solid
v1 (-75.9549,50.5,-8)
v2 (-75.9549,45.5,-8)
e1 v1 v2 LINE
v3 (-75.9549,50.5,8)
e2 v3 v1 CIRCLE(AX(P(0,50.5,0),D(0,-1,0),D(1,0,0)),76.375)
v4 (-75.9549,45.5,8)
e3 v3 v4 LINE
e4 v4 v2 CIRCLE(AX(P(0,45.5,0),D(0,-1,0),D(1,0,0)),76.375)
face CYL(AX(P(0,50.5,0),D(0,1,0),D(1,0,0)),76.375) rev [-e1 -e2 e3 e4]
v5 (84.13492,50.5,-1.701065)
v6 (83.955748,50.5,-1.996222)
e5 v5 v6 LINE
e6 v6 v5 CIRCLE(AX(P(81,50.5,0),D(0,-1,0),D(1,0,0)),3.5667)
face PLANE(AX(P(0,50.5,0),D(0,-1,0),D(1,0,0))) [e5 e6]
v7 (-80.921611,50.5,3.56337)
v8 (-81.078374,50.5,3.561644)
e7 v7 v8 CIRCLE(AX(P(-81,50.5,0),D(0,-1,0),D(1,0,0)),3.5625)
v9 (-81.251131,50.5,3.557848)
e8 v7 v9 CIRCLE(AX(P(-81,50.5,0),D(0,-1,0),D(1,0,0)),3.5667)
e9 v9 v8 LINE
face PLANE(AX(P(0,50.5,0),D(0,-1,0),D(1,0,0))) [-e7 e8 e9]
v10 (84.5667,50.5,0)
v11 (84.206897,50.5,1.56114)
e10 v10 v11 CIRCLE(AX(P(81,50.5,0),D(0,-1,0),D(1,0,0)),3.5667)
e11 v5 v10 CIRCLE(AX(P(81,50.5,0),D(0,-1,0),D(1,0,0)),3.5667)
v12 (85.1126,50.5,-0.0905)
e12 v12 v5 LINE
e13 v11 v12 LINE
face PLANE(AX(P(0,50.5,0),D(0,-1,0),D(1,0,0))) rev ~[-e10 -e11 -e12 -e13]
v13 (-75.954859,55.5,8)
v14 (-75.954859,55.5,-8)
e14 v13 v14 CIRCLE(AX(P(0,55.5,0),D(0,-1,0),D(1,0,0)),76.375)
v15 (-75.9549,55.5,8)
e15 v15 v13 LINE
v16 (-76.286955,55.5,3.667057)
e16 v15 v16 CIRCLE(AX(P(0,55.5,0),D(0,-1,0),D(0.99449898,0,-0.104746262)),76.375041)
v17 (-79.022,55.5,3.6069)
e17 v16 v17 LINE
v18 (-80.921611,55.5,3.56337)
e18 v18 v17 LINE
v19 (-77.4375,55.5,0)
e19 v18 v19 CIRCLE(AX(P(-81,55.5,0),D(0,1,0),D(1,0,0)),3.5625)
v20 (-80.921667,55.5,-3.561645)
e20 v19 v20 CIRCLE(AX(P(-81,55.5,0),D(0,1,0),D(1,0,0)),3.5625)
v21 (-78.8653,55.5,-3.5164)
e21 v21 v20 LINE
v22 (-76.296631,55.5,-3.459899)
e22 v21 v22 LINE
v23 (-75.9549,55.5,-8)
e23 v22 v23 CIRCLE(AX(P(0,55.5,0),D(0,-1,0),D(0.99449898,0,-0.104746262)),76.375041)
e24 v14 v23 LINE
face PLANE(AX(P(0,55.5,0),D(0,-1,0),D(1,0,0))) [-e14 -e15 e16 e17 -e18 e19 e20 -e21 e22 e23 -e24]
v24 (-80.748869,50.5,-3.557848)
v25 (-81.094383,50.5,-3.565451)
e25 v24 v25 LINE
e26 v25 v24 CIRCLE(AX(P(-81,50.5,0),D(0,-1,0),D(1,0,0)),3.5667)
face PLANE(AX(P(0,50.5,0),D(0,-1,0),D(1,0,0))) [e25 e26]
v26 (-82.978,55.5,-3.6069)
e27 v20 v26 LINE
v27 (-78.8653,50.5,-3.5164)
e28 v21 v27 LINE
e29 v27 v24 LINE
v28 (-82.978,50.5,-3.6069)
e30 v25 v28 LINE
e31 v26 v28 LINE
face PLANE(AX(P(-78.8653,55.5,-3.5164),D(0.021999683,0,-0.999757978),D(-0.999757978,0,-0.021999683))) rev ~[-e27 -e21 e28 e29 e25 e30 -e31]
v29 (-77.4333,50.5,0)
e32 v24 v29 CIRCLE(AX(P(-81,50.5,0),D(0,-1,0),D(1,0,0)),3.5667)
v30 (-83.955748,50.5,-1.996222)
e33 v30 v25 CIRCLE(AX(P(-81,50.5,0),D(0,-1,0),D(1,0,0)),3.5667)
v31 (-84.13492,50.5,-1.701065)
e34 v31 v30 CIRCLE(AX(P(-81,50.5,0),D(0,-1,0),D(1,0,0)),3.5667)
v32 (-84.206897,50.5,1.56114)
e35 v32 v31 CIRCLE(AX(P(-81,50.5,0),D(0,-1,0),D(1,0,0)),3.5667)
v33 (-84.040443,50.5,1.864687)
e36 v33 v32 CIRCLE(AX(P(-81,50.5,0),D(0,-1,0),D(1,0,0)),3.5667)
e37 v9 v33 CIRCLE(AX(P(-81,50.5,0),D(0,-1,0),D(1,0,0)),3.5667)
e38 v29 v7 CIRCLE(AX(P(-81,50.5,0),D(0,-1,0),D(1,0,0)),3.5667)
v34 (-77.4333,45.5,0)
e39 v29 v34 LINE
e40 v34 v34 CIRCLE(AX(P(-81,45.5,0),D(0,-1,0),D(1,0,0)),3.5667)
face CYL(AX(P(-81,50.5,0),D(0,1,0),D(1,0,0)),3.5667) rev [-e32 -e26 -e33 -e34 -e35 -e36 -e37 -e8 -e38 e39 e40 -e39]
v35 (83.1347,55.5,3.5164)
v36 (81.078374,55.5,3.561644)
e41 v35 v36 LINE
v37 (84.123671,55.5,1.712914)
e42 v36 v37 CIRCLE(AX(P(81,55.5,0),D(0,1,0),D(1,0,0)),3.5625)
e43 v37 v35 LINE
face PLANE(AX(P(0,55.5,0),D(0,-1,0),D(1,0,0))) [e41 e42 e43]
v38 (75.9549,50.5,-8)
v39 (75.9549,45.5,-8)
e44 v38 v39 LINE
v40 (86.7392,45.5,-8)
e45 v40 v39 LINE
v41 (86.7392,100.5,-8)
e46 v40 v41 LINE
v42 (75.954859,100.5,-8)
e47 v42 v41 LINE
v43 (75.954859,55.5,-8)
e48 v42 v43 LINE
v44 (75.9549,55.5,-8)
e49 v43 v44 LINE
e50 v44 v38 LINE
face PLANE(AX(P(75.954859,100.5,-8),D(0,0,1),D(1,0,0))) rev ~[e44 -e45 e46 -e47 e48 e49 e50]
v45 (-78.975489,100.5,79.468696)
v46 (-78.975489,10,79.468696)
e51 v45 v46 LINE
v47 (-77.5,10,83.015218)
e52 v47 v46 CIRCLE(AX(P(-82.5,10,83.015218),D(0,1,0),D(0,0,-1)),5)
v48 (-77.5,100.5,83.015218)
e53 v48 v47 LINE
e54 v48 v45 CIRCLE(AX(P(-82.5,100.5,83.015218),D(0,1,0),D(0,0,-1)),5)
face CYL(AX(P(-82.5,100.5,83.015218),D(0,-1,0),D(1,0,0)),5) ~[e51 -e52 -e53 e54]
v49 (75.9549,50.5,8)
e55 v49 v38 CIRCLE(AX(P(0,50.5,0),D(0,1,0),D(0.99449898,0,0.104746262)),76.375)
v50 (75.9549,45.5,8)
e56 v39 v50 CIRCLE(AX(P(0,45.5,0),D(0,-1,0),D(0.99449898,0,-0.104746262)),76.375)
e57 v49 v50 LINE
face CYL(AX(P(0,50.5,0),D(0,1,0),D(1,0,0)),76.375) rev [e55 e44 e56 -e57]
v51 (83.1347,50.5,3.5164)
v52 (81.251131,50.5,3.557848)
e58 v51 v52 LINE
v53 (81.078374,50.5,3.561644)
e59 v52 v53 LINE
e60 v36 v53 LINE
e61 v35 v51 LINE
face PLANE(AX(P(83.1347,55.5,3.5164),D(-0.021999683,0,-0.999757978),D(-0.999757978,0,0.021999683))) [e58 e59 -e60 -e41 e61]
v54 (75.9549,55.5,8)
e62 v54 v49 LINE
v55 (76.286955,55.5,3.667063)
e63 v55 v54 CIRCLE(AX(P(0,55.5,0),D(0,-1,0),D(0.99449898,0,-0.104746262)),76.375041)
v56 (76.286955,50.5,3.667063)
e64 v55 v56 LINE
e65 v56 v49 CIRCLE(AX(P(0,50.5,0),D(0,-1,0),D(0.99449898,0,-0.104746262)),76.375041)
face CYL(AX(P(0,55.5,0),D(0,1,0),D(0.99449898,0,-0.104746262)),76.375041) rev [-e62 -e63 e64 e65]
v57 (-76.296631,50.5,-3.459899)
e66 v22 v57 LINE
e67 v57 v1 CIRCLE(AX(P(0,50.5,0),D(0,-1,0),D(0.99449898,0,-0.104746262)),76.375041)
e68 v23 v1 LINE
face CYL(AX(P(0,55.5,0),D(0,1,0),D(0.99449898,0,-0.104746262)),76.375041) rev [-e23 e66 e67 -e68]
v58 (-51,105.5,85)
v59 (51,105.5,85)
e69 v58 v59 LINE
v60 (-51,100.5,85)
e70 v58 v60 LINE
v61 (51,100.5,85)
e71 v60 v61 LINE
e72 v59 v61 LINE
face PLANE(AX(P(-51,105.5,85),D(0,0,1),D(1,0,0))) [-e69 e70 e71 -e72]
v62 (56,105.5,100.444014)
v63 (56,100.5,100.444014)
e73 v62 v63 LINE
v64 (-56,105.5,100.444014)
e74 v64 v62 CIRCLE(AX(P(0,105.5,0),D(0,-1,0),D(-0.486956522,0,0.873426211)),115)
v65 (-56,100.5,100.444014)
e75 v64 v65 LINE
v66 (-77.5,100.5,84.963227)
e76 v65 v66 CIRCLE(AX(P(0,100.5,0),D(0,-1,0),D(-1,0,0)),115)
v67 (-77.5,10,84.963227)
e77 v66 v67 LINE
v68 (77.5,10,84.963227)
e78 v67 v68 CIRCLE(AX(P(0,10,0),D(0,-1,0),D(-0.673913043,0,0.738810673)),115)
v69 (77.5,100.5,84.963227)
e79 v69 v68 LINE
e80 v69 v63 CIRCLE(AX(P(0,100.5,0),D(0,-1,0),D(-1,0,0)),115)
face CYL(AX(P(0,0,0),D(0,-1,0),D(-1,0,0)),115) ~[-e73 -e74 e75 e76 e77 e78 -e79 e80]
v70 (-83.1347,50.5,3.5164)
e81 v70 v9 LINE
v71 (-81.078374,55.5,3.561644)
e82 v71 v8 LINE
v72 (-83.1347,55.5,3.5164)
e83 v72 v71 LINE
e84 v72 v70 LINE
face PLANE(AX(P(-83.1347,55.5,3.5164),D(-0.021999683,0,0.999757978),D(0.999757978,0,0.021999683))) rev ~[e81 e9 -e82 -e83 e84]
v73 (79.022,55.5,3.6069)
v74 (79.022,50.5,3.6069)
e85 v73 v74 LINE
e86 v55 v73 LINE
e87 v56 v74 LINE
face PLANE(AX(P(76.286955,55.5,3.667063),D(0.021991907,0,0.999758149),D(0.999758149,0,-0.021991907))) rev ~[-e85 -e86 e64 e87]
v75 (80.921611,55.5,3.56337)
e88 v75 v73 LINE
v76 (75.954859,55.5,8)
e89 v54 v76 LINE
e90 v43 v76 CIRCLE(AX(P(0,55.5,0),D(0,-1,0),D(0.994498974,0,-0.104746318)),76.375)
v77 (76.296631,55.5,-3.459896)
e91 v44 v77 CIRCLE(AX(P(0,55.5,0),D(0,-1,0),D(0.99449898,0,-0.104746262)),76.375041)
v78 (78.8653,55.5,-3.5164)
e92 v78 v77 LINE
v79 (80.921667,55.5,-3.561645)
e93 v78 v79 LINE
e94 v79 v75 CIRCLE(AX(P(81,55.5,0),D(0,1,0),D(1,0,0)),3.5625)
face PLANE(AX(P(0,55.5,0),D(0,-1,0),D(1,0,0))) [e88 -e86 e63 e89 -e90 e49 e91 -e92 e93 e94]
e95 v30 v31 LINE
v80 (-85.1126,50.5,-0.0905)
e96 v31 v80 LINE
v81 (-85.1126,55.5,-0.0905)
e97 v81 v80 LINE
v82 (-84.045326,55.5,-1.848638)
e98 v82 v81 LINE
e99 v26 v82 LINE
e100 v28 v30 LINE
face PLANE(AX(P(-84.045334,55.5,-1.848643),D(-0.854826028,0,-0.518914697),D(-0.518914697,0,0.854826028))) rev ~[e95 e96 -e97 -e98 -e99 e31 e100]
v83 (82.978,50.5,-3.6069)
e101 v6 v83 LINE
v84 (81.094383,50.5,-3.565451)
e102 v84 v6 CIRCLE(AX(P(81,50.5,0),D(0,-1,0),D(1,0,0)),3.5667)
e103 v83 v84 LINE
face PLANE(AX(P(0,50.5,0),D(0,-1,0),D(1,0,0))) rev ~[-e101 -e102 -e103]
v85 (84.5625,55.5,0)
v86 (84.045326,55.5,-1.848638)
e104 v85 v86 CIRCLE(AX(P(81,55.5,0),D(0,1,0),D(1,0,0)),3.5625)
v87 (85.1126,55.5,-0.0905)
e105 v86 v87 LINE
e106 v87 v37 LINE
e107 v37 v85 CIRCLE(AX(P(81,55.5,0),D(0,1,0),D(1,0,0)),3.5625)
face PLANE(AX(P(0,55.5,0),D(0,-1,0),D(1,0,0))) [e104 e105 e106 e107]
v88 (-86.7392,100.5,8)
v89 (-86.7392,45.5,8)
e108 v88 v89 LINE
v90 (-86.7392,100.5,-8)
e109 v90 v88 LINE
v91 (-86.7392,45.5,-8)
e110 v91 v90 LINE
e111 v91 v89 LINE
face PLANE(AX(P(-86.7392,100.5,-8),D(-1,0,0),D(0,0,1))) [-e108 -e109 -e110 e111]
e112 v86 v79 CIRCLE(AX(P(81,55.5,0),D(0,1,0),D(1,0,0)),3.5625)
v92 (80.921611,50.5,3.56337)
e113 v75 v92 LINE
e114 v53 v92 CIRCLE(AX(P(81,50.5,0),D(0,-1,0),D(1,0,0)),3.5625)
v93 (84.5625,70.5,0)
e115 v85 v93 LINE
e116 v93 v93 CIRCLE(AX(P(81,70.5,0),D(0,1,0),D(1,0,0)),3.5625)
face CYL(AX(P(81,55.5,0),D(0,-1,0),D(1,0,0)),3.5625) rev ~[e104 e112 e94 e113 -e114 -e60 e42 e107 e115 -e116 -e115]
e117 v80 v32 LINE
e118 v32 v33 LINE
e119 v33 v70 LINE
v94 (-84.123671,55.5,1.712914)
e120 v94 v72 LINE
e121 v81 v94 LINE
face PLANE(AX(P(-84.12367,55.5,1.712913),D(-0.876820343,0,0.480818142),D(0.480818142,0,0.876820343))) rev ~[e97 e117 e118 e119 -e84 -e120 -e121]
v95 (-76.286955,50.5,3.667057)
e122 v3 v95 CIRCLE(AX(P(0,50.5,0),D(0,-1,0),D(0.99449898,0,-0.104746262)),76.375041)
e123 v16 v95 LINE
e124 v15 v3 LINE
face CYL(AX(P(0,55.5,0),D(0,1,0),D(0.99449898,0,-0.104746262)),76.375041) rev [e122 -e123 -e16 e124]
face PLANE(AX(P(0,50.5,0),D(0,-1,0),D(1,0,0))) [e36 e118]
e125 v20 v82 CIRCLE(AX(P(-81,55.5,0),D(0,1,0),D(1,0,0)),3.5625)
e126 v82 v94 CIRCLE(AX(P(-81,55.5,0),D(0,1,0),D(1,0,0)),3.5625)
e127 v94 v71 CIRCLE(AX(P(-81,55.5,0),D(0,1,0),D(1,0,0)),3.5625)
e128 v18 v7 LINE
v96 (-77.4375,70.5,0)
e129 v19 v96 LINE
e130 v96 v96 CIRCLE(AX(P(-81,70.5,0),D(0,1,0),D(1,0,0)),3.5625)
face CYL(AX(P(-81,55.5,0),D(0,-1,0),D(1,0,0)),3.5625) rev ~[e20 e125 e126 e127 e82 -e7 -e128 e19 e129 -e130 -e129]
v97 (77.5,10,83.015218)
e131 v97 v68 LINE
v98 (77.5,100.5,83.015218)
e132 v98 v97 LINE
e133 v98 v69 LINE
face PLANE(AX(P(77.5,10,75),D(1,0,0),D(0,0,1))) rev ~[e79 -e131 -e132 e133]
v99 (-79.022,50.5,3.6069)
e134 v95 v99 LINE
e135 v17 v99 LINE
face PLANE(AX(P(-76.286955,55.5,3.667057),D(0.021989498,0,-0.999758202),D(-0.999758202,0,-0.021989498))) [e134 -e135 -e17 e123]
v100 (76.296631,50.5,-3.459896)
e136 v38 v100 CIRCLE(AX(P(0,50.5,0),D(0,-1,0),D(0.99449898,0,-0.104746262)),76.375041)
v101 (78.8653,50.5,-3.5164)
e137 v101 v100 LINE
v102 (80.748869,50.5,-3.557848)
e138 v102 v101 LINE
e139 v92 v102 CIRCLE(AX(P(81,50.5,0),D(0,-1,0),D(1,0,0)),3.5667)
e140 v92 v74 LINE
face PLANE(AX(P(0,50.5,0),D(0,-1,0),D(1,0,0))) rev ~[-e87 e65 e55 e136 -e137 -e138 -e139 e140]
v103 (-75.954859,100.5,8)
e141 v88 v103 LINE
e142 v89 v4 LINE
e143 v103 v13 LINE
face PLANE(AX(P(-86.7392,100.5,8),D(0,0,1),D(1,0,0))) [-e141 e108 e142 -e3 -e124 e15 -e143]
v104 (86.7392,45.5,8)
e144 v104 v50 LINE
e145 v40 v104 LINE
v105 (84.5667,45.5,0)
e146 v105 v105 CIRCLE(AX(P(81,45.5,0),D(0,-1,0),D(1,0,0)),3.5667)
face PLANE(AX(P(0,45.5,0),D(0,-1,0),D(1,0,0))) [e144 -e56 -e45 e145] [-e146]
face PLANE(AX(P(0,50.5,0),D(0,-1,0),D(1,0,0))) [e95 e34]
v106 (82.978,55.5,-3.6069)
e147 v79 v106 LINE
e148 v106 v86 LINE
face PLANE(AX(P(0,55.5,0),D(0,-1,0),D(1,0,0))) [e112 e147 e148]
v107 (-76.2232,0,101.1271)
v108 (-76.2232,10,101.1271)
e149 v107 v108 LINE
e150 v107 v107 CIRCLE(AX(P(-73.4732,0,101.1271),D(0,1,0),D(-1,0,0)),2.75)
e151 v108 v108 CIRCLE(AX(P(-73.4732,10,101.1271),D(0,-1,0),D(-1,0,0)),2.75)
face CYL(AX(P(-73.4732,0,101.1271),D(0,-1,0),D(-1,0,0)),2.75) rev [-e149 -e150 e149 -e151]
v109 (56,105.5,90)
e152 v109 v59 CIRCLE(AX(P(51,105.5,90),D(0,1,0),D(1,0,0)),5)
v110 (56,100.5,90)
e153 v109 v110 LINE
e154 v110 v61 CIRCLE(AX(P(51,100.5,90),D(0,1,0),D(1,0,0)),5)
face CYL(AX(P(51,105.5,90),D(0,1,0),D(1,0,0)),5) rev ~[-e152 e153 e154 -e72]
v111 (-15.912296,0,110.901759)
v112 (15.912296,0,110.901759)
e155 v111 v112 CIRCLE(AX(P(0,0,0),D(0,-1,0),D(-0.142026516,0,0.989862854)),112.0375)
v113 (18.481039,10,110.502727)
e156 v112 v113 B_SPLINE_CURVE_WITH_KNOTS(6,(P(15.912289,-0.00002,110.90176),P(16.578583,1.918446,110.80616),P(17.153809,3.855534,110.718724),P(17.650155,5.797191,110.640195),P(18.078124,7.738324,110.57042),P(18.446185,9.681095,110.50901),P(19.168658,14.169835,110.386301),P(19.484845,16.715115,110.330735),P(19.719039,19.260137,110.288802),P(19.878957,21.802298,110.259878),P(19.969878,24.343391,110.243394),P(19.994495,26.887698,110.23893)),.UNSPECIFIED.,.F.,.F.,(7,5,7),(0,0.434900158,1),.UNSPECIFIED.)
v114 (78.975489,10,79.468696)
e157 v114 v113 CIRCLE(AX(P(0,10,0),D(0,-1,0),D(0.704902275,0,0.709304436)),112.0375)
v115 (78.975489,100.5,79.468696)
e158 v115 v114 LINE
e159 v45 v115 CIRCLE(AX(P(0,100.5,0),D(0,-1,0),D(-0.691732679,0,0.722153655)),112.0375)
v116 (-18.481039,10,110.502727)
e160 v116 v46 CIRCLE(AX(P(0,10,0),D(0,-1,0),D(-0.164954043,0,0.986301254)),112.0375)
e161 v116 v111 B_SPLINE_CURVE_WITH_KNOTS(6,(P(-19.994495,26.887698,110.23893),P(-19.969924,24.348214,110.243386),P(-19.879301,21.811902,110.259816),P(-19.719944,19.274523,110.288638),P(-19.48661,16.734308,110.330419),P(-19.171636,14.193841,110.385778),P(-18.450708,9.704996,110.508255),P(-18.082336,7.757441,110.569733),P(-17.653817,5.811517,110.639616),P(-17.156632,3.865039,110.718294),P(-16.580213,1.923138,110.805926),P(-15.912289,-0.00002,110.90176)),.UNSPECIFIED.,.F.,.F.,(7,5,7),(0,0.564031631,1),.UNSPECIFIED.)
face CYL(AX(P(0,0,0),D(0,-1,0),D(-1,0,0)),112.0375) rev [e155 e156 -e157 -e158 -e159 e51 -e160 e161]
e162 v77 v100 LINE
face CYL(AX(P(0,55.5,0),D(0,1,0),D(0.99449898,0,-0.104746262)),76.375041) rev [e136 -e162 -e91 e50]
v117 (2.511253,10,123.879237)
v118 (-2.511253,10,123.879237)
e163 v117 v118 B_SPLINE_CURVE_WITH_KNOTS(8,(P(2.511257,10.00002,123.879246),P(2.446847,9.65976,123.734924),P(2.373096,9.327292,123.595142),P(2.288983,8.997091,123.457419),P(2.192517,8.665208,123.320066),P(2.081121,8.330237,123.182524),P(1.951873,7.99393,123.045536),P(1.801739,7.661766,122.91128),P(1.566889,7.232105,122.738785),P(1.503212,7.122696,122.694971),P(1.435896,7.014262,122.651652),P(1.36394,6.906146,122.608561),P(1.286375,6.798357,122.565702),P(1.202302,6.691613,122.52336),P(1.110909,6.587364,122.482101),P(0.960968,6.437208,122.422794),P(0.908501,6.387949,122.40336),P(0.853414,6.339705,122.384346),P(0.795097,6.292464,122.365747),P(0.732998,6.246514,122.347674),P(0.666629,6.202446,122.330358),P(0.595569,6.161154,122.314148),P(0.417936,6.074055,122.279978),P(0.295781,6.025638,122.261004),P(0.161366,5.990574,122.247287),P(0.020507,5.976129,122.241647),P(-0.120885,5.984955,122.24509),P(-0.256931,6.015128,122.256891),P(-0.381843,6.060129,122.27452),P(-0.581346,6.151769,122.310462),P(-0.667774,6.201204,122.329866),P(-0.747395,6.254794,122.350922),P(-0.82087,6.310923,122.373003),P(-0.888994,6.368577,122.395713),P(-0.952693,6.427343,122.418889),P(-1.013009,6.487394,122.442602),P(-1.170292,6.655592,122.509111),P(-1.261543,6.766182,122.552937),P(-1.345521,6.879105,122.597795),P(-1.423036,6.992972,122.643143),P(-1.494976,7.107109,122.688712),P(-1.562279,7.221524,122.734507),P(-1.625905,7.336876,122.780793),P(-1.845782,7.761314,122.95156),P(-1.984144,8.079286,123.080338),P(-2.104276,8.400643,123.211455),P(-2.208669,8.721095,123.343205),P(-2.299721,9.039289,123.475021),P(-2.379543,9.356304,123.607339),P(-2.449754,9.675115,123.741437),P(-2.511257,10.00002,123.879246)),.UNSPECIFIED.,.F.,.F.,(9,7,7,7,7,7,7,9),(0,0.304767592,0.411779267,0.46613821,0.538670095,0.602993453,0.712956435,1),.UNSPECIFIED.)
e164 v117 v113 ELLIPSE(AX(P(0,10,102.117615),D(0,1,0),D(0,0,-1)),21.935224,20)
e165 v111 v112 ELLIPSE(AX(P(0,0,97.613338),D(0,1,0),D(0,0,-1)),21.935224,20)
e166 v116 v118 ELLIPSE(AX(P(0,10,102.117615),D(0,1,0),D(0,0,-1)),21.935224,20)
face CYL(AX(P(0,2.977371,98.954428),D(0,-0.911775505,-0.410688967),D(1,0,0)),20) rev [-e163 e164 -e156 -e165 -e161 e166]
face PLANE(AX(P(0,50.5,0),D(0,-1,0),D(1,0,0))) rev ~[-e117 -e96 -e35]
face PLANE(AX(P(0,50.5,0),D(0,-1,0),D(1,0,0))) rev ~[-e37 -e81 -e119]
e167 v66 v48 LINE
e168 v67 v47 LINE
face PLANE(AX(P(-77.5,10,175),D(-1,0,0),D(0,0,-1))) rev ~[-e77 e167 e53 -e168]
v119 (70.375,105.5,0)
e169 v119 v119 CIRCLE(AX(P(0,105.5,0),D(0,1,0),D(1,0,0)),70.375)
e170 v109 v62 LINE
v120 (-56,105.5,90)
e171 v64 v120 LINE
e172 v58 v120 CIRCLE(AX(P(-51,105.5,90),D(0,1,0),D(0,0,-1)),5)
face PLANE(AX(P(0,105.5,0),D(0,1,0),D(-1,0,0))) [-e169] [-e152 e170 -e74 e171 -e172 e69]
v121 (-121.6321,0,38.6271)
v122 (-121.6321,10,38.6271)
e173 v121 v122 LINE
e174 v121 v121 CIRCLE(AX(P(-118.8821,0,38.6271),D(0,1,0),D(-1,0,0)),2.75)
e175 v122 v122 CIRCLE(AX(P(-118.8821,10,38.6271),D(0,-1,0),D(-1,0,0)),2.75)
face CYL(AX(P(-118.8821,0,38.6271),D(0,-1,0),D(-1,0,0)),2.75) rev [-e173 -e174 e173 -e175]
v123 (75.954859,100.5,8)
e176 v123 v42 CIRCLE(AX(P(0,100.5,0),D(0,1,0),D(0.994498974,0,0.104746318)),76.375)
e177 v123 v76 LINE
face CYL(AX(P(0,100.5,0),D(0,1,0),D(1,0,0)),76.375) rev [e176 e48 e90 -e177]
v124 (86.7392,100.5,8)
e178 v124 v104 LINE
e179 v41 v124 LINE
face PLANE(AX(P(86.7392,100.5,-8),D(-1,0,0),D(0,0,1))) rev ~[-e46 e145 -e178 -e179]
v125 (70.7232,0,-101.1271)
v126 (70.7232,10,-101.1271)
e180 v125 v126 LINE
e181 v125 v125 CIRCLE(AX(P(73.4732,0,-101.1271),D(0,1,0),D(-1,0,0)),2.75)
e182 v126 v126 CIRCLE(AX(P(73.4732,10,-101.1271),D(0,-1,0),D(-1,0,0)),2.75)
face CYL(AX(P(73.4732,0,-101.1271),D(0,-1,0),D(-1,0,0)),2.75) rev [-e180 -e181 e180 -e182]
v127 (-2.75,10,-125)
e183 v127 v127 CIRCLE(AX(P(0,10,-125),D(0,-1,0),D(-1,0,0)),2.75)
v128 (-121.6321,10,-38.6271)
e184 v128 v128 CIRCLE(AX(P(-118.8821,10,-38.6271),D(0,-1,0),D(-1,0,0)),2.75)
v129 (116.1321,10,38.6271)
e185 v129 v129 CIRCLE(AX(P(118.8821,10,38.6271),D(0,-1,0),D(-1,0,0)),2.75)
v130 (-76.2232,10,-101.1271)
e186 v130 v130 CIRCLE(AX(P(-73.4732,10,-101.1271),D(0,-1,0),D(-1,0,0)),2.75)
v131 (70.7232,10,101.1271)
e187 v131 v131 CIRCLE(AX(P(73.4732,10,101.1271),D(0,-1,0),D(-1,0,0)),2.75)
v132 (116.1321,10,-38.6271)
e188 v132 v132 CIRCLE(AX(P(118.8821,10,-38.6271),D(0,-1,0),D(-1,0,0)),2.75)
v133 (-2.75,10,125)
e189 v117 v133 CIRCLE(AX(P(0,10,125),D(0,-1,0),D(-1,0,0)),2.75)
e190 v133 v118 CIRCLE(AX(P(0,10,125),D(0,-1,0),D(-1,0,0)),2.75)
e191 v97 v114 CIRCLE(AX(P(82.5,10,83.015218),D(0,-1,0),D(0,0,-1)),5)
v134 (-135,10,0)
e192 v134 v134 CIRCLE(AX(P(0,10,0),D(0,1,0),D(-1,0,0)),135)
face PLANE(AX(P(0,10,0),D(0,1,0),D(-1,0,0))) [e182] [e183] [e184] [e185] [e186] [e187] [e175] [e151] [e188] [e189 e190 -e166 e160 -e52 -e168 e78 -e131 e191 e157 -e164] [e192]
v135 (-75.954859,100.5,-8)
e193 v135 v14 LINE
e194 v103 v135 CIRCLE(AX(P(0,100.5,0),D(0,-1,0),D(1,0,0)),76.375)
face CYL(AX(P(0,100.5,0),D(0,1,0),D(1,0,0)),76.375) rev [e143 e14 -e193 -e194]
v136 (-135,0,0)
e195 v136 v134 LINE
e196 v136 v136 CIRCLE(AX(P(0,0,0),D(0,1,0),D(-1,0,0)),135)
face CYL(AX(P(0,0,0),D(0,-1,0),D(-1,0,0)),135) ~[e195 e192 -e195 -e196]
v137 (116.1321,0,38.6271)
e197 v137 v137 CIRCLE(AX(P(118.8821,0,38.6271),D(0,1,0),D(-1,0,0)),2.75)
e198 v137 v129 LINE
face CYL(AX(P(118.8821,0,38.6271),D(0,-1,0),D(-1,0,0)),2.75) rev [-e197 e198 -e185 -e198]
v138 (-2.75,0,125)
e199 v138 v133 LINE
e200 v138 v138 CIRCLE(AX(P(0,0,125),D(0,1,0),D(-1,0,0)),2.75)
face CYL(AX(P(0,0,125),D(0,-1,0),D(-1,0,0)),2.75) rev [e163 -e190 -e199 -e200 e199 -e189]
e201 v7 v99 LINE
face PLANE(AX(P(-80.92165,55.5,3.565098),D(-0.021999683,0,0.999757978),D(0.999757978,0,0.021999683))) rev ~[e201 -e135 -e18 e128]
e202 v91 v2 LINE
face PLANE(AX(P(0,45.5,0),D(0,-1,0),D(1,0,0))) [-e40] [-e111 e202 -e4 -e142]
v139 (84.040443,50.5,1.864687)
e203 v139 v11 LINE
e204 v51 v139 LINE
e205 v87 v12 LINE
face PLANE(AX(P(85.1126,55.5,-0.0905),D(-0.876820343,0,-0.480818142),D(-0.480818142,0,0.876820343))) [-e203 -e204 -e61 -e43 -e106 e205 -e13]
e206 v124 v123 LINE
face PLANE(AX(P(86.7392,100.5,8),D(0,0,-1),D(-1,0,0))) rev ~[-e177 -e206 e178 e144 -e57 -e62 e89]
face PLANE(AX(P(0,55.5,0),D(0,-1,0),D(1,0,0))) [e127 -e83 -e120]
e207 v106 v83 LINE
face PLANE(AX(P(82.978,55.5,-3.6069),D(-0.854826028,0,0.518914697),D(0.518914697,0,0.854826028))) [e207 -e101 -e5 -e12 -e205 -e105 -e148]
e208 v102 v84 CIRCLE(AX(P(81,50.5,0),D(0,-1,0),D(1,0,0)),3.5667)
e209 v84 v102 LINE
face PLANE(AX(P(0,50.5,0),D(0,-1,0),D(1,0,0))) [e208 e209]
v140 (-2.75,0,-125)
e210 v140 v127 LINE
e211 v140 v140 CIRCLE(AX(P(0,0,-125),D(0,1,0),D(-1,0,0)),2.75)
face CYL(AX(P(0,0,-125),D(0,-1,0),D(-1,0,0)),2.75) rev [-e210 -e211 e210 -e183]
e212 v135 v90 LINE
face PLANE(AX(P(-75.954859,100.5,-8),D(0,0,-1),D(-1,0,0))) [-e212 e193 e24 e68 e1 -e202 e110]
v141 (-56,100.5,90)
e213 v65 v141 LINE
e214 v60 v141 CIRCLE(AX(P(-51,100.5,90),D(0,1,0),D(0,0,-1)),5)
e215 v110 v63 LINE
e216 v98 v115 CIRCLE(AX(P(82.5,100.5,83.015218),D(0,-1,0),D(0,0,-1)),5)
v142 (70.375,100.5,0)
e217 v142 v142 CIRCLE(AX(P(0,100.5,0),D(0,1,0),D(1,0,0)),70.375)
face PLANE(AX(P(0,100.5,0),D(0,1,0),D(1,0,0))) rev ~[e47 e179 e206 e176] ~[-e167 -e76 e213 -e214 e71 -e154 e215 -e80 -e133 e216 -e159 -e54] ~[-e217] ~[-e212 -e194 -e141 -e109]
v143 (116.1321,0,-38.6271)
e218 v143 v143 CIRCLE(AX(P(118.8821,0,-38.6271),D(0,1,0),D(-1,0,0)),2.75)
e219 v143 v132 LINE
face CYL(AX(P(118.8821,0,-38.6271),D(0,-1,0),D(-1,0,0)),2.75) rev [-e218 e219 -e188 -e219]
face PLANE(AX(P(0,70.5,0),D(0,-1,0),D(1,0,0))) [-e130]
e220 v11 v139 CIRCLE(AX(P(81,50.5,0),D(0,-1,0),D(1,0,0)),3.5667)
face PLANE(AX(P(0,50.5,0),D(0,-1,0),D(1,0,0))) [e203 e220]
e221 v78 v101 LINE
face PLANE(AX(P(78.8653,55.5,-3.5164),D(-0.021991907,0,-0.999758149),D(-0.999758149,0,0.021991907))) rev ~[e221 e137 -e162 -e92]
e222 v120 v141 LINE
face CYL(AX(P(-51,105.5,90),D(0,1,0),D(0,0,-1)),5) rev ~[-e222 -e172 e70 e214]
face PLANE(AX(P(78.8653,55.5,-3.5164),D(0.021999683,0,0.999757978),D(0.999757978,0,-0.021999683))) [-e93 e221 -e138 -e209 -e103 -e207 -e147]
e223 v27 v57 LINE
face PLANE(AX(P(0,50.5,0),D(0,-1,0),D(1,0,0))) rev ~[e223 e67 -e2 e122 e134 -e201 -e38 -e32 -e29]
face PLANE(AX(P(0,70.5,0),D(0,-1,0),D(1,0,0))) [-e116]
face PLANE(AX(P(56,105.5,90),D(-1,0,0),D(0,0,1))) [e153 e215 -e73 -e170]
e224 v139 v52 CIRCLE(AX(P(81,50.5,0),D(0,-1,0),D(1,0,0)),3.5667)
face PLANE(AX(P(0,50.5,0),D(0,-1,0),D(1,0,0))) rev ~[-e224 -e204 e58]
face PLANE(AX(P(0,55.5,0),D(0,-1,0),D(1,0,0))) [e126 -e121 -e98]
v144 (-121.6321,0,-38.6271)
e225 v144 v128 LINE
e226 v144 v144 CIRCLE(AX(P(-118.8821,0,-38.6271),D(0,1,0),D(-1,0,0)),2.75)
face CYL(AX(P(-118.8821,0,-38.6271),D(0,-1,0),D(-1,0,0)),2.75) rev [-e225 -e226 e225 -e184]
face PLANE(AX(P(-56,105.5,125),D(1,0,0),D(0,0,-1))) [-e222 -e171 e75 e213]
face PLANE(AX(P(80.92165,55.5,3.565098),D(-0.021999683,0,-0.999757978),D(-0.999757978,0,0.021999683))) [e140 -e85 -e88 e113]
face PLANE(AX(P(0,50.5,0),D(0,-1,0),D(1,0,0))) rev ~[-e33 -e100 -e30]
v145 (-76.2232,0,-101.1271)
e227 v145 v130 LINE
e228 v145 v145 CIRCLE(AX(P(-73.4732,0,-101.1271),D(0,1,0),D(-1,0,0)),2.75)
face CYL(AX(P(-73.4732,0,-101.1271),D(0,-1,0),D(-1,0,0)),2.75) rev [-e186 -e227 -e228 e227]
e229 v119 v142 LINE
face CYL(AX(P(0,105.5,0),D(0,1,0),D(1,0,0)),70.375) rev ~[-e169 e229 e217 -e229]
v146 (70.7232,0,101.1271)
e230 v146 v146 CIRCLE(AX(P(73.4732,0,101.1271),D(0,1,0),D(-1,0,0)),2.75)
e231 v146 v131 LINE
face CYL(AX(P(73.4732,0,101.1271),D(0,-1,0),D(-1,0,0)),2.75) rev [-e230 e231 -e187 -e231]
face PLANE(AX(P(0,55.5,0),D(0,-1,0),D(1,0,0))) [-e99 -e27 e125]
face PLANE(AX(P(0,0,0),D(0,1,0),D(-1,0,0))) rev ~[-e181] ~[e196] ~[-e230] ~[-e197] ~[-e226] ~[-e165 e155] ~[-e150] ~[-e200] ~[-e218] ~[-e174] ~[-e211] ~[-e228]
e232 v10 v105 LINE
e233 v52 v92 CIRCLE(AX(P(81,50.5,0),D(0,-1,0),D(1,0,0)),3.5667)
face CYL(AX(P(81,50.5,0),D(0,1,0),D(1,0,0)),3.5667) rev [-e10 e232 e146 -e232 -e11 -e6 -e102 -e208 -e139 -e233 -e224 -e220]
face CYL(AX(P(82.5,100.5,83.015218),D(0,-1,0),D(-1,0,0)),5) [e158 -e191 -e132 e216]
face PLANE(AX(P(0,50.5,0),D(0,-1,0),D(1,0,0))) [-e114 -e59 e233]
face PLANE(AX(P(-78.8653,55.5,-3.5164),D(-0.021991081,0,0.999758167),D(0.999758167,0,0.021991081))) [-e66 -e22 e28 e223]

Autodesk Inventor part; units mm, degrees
sketch "Sketch1" plane through (0, 0, 0) normal (0, 1, 0) x (-1, 0, 0)
  circle A0 centre (0, 0) radius 135
  circle A1 centre (0, 0) radius 115
  circle A2 centre (0, 0) radius 112.0375
  circle A3 centre (0, 0) radius 9.5
  circle A4 centre (0, 0) radius 125
  circle A5 centre (0, -125) radius 2.75
  circle A6 centre (73.4732, -101.1271) radius 2.75
  circle A7 centre (118.8821, -38.6271) radius 2.75
  circle A8 centre (118.8821, 38.6271) radius 2.75
  circle A9 centre (73.4732, 101.1271) radius 2.75
  circle A10 centre (0, 125) radius 2.75
  circle A11 centre (-73.4732, 101.1271) radius 2.75
  circle A12 centre (-118.8821, 38.6271) radius 2.75
  circle A13 centre (-118.8821, -38.6271) radius 2.75
  circle A14 centre (-73.4732, -101.1271) radius 2.75
  dimension "d264" = 250
  dimension "Absolute_Diameter" = 270
  dimension "Diameter_No_Outer_Lip" = 230
  dimension "Inner_Cylinder_Diameter" = 224.075
  dimension "Lip_Diameter" = 19
  dimension "d265" = 5.5
  dimension "d268" = 360
extrude "Extrusion1" add sketch "Sketch1" along normal blind 10 contours A0 | A4 A7 A6 A5 A14 A13 A12 A11 A10 A9 A8
extrude "Extrusion2" add sketch "Sketch1" along normal blind 105.5 contours A1
sketch "Sketch2" plane through (0, 105.5, 0) normal (0, 1, 0) x (1, 0, 0)
  circle A0 centre (0, 0) radius 115
  circle A1 centre (0, 0) radius 70.375
  dimension "Lip_Diameter_Out" = 230
  dimension "Inner_Lip_Diameter" = 140.75
extrude "Extrusion7" add sketch "Sketch2" against normal blind 5
sketch "Sketch28" plane through (0, 10, 0) normal (0, 1, 0) x (1, 0, 0)
  line L0 (-77.5, -75) -> (77.5, -75)
  line L1 (77.5, -75) -> (77.5, -175)
  line L2 (77.5, -175) -> (-77.5, -175)
  line L3 (-77.5, -175) -> (-77.5, -75)
  circle A0 centre (0, -125) radius 2.75 projected
  line L4 (-77.5, -75) -> (77.5, -175) construction
  line L5 (77.5, -75) -> (-77.5, -175) construction
  point P0 (0, 0)
  dimension "d271" = 155
  dimension "d272" = 100
extrude "Extrusion34" cut sketch "Sketch28" along normal up to surface (90.5 mm away)
sketch "Sketch30" plane through (0, 10, 0) normal (0, 1, 0) x (1, 0, 0)
  point P0 (0, 0)
ref_plane "Work Plane19" through (16.25, 10, -160.125) normal (0, 0.3947, -0.9188) x (1, 0, 0)
ref_plane "Work Plane21" through (16.25, 10, -160.125) normal (0, 0.9118, 0.4107) x (1, 0, 0)
ref_plane "Work Plane22" through (16.25, 101.1762, -119.0531) normal (0, 0.9118, 0.4107) x (1, 0, 0)
sketch "Sketch31" plane through (16.25, 101.1762, -119.0531) normal (0, 0.9118, 0.4107) x (1, 0, 0)
  circle A0 centre (-16.25, -239.1031) radius 20
  point P0 (-16.25, -150.1031)
  dimension "d286" = 40
  dimension "d289" = 89
extrude "Extrusion36" cut sketch "Sketch31" along normal mid plane 52.8625
fillet "Fillet19" radius 5 2 edges at (-77.5, 55.25, 80.9083) (77.5, 55.25, 80.9083)
sketch "Sketch32" plane through (0, 105.5, 0) normal (0, 1, 0) x (1, 0, 0)
  line L0 (-51, -85) -> (51, -85)
  line L1 (56, -90) -> (56, -125)
  line L2 (56, -125) -> (-56, -125)
  line L3 (-56, -125) -> (-56, -90)
  line L4 (-56, -85) -> (56, -125) construction
  line L5 (56, -85) -> (-56, -125) construction
  arc A0 (-51, -85) -> (-56, -90) centre (-51, -90) ccw
  arc A1 (56, -90) -> (51, -85) centre (51, -90) ccw
  point P0 (0, 0)
  point P1 (0, -105)
  point P2 (0, -85)
  dimension "d291" = 112
  dimension "d292" = 40
  dimension "d293" = 5
  dimension "d294" = 5
  dimension "d295" = 85
extrude "Extrusion37" cut sketch "Sketch32" against normal blind 10
sketch "Sketch33" plane through (0, 100.5, 0) normal (0, -1, 0) x (1, 0, 0)
  circle A0 centre (0, 0) radius 70.375
  line L0 (-86.7392, 8) -> (-75, 8)
  line L1 (-75, 8) -> (-75, -8)
  line L2 (-75, -8) -> (-86.7392, -8)
  line L3 (-86.7392, -8) -> (-86.7392, 8)
  line L4 (-86.7392, 8) -> (-75, -8) construction
  line L5 (-75, 8) -> (-86.7392, -8) construction
  line L6 (0, 0) -> (0, 70.375)
  line L7 (86.7392, 8) -> (75, 8)
  line L8 (75, 8) -> (75, -8)
  line L9 (75, -8) -> (86.7392, -8)
  line L10 (86.7392, -8) -> (86.7392, 8)
  line L11 (86.7392, 8) -> (75, -8) construction
  line L12 (75, 8) -> (86.7392, -8) construction
  circle A1 centre (0, 0) radius 76.375
  point P0 (-80.8696, 0)
  point P1 (80.8696, 0)
  point P2 (-75, 0)
  point P3 (-75.9549, -8)
  point P4 (-75.9549, 8)
  point P5 (75.9549, 8)
  point P6 (75.9549, -8)
  dimension "d313" = 140.75
  dimension "d298" = 16
  dimension "d301" = 75
  dimension "d314" = 6
extrude "Extrusion38" add sketch "Sketch33" along normal blind 45 contours L0 A1 L2 L3 | L7 L10 L9 A1
sketch "Sketch35" plane through (0, 55.5, 0) normal (0, -1, 0) x (1, 0, 0)
  line L0 (0, 0) -> (0, 42.8625)
  arc A0 (80.604, -8) -> (-80.604, -8) centre (0, 0) ccw
  circle A1 centre (-81, 0) radius 3.5625
  circle A2 centre (81, 0) radius 3.5625
  line L1 (-82.978, -3.6069) -> (-85.1126, -0.0905)
  line L2 (-85.1126, -0.0905) -> (-83.1347, 3.5164)
  line L3 (-83.1347, 3.5164) -> (-79.022, 3.6069)
  line L4 (-79.022, 3.6069) -> (-76.8874, 0.0905)
  line L5 (-76.8874, 0.0905) -> (-78.8653, -3.5164)
  line L6 (-78.8653, -3.5164) -> (-82.978, -3.6069)
  line L7 (82.978, -3.6069) -> (85.1126, -0.0905)
  line L8 (85.1126, -0.0905) -> (83.1347, 3.5164)
  line L9 (83.1347, 3.5164) -> (79.022, 3.6069)
  line L10 (79.022, 3.6069) -> (76.8874, 0.0905)
  line L11 (76.8874, 0.0905) -> (78.8653, -3.5164)
  line L12 (78.8653, -3.5164) -> (82.978, -3.6069)
  arc A3 (75.9549, -8) -> (-75.9549, -8) centre (0, 0) ccw
  line L13 (-75.9549, -8) -> (-86.7392, -8)
  line L14 (-86.7392, -8) -> (-86.7392, 8)
  line L15 (86.7392, -8) -> (86.7392, 8)
  line L16 (-86.7392, 8) -> (-75.9549, 8) projected
  line L17 (-86.7392, 8) -> (-75.9549, 8)
  line L18 (86.7392, 8) -> (75.9549, 8)
  line L19 (-79.022, 3.6069) -> (-78.8653, -3.5164)
  line L20 (-78.8653, -3.5164) -> (-14.3502, -2.0973)
  line L21 (-14.3502, -2.0973) -> (-14.5068, 5.0259)
  line L22 (-14.5068, 5.0259) -> (-79.022, 3.6069)
  line L23 (79.022, 3.6069) -> (78.8653, -3.5164)
  line L24 (78.8653, -3.5164) -> (65.0181, -3.2118)
  line L25 (65.0181, -3.2118) -> (65.1748, 3.9115)
  line L26 (65.1748, 3.9115) -> (79.022, 3.6069)
  line L27 (86.7392, -8) -> (75.9549, -8)
  arc A4 (87.1335, -8) -> (-87.1335, -8) centre (0, 0) ccw
  point P0 (-80.9217, -3.5616)
  point P1 (-76.2966, -3.4599)
  point P2 (-76.2869, 3.667)
  point P3 (76.2869, 3.667)
  point P4 (76.2966, -3.4599)
  dimension "d309" = 7.125
  dimension "d308" = 162
extrude "Extrusion40" cut sketch "Sketch35" against normal blind 15 contours A2 L23 A0 | A0 A2 | A2 L23 | A1 L19 A0 | A0 A1 | A1 L19
extrude "Extrusion41" add sketch "Sketch35" along normal blind 5 contours L27 A3 L24 L12 A0 | A0 L12 L7 L8 L9 A2 L18 L15 L27 | L9 L26 A3 L18 A0 | L16 A3 L22 L3 A0 | A0 A1 L3 L2 L1 L6 L13 L14 L16 | L6 L20 A3 L13 A0
sketch "Sketch36" plane through (0, 50.5, 0) normal (0, -1, 0) x (1, 0, 0)
  circle A0 centre (0, 0) radius 76.375
  line L0 (-86.7392, 8) -> (-75.9549, 8) projected
  line L1 (-86.7392, -8) -> (-86.7392, 8) projected
  line L2 (-86.7392, 8) -> (-86.7392, -8)
  line L3 (-86.7392, -8) -> (-75.9549, -8)
  line L4 (-75.9549, 8) -> (-86.7392, 8)
  arc A1 (-80.9217, -3.5616) -> (-81.0783, 3.5616) centre (-81, 0) ccw projected
  circle A2 centre (-81, 0) radius 3.5667
  line L5 (0, 0) -> (0, 76.375)
  line L6 (86.7392, 8) -> (75.9549, 8)
  line L7 (86.7392, -8) -> (86.7392, 8)
  line L8 (86.7392, 8) -> (86.7392, -8)
  line L9 (86.7392, -8) -> (75.9549, -8)
  line L10 (75.9549, 8) -> (86.7392, 8)
  arc A3 (81.0783, 3.5616) -> (80.9217, -3.5616) centre (81, 0) ccw
  circle A4 centre (81, 0) radius 3.5667
extrude "Extrusion42" add sketch "Sketch36" along normal blind 5 contours A0 L6 L7 L9 | L3 L1 L0 A0
properties part number "Cylinder Segment  Camera only v0.2"
